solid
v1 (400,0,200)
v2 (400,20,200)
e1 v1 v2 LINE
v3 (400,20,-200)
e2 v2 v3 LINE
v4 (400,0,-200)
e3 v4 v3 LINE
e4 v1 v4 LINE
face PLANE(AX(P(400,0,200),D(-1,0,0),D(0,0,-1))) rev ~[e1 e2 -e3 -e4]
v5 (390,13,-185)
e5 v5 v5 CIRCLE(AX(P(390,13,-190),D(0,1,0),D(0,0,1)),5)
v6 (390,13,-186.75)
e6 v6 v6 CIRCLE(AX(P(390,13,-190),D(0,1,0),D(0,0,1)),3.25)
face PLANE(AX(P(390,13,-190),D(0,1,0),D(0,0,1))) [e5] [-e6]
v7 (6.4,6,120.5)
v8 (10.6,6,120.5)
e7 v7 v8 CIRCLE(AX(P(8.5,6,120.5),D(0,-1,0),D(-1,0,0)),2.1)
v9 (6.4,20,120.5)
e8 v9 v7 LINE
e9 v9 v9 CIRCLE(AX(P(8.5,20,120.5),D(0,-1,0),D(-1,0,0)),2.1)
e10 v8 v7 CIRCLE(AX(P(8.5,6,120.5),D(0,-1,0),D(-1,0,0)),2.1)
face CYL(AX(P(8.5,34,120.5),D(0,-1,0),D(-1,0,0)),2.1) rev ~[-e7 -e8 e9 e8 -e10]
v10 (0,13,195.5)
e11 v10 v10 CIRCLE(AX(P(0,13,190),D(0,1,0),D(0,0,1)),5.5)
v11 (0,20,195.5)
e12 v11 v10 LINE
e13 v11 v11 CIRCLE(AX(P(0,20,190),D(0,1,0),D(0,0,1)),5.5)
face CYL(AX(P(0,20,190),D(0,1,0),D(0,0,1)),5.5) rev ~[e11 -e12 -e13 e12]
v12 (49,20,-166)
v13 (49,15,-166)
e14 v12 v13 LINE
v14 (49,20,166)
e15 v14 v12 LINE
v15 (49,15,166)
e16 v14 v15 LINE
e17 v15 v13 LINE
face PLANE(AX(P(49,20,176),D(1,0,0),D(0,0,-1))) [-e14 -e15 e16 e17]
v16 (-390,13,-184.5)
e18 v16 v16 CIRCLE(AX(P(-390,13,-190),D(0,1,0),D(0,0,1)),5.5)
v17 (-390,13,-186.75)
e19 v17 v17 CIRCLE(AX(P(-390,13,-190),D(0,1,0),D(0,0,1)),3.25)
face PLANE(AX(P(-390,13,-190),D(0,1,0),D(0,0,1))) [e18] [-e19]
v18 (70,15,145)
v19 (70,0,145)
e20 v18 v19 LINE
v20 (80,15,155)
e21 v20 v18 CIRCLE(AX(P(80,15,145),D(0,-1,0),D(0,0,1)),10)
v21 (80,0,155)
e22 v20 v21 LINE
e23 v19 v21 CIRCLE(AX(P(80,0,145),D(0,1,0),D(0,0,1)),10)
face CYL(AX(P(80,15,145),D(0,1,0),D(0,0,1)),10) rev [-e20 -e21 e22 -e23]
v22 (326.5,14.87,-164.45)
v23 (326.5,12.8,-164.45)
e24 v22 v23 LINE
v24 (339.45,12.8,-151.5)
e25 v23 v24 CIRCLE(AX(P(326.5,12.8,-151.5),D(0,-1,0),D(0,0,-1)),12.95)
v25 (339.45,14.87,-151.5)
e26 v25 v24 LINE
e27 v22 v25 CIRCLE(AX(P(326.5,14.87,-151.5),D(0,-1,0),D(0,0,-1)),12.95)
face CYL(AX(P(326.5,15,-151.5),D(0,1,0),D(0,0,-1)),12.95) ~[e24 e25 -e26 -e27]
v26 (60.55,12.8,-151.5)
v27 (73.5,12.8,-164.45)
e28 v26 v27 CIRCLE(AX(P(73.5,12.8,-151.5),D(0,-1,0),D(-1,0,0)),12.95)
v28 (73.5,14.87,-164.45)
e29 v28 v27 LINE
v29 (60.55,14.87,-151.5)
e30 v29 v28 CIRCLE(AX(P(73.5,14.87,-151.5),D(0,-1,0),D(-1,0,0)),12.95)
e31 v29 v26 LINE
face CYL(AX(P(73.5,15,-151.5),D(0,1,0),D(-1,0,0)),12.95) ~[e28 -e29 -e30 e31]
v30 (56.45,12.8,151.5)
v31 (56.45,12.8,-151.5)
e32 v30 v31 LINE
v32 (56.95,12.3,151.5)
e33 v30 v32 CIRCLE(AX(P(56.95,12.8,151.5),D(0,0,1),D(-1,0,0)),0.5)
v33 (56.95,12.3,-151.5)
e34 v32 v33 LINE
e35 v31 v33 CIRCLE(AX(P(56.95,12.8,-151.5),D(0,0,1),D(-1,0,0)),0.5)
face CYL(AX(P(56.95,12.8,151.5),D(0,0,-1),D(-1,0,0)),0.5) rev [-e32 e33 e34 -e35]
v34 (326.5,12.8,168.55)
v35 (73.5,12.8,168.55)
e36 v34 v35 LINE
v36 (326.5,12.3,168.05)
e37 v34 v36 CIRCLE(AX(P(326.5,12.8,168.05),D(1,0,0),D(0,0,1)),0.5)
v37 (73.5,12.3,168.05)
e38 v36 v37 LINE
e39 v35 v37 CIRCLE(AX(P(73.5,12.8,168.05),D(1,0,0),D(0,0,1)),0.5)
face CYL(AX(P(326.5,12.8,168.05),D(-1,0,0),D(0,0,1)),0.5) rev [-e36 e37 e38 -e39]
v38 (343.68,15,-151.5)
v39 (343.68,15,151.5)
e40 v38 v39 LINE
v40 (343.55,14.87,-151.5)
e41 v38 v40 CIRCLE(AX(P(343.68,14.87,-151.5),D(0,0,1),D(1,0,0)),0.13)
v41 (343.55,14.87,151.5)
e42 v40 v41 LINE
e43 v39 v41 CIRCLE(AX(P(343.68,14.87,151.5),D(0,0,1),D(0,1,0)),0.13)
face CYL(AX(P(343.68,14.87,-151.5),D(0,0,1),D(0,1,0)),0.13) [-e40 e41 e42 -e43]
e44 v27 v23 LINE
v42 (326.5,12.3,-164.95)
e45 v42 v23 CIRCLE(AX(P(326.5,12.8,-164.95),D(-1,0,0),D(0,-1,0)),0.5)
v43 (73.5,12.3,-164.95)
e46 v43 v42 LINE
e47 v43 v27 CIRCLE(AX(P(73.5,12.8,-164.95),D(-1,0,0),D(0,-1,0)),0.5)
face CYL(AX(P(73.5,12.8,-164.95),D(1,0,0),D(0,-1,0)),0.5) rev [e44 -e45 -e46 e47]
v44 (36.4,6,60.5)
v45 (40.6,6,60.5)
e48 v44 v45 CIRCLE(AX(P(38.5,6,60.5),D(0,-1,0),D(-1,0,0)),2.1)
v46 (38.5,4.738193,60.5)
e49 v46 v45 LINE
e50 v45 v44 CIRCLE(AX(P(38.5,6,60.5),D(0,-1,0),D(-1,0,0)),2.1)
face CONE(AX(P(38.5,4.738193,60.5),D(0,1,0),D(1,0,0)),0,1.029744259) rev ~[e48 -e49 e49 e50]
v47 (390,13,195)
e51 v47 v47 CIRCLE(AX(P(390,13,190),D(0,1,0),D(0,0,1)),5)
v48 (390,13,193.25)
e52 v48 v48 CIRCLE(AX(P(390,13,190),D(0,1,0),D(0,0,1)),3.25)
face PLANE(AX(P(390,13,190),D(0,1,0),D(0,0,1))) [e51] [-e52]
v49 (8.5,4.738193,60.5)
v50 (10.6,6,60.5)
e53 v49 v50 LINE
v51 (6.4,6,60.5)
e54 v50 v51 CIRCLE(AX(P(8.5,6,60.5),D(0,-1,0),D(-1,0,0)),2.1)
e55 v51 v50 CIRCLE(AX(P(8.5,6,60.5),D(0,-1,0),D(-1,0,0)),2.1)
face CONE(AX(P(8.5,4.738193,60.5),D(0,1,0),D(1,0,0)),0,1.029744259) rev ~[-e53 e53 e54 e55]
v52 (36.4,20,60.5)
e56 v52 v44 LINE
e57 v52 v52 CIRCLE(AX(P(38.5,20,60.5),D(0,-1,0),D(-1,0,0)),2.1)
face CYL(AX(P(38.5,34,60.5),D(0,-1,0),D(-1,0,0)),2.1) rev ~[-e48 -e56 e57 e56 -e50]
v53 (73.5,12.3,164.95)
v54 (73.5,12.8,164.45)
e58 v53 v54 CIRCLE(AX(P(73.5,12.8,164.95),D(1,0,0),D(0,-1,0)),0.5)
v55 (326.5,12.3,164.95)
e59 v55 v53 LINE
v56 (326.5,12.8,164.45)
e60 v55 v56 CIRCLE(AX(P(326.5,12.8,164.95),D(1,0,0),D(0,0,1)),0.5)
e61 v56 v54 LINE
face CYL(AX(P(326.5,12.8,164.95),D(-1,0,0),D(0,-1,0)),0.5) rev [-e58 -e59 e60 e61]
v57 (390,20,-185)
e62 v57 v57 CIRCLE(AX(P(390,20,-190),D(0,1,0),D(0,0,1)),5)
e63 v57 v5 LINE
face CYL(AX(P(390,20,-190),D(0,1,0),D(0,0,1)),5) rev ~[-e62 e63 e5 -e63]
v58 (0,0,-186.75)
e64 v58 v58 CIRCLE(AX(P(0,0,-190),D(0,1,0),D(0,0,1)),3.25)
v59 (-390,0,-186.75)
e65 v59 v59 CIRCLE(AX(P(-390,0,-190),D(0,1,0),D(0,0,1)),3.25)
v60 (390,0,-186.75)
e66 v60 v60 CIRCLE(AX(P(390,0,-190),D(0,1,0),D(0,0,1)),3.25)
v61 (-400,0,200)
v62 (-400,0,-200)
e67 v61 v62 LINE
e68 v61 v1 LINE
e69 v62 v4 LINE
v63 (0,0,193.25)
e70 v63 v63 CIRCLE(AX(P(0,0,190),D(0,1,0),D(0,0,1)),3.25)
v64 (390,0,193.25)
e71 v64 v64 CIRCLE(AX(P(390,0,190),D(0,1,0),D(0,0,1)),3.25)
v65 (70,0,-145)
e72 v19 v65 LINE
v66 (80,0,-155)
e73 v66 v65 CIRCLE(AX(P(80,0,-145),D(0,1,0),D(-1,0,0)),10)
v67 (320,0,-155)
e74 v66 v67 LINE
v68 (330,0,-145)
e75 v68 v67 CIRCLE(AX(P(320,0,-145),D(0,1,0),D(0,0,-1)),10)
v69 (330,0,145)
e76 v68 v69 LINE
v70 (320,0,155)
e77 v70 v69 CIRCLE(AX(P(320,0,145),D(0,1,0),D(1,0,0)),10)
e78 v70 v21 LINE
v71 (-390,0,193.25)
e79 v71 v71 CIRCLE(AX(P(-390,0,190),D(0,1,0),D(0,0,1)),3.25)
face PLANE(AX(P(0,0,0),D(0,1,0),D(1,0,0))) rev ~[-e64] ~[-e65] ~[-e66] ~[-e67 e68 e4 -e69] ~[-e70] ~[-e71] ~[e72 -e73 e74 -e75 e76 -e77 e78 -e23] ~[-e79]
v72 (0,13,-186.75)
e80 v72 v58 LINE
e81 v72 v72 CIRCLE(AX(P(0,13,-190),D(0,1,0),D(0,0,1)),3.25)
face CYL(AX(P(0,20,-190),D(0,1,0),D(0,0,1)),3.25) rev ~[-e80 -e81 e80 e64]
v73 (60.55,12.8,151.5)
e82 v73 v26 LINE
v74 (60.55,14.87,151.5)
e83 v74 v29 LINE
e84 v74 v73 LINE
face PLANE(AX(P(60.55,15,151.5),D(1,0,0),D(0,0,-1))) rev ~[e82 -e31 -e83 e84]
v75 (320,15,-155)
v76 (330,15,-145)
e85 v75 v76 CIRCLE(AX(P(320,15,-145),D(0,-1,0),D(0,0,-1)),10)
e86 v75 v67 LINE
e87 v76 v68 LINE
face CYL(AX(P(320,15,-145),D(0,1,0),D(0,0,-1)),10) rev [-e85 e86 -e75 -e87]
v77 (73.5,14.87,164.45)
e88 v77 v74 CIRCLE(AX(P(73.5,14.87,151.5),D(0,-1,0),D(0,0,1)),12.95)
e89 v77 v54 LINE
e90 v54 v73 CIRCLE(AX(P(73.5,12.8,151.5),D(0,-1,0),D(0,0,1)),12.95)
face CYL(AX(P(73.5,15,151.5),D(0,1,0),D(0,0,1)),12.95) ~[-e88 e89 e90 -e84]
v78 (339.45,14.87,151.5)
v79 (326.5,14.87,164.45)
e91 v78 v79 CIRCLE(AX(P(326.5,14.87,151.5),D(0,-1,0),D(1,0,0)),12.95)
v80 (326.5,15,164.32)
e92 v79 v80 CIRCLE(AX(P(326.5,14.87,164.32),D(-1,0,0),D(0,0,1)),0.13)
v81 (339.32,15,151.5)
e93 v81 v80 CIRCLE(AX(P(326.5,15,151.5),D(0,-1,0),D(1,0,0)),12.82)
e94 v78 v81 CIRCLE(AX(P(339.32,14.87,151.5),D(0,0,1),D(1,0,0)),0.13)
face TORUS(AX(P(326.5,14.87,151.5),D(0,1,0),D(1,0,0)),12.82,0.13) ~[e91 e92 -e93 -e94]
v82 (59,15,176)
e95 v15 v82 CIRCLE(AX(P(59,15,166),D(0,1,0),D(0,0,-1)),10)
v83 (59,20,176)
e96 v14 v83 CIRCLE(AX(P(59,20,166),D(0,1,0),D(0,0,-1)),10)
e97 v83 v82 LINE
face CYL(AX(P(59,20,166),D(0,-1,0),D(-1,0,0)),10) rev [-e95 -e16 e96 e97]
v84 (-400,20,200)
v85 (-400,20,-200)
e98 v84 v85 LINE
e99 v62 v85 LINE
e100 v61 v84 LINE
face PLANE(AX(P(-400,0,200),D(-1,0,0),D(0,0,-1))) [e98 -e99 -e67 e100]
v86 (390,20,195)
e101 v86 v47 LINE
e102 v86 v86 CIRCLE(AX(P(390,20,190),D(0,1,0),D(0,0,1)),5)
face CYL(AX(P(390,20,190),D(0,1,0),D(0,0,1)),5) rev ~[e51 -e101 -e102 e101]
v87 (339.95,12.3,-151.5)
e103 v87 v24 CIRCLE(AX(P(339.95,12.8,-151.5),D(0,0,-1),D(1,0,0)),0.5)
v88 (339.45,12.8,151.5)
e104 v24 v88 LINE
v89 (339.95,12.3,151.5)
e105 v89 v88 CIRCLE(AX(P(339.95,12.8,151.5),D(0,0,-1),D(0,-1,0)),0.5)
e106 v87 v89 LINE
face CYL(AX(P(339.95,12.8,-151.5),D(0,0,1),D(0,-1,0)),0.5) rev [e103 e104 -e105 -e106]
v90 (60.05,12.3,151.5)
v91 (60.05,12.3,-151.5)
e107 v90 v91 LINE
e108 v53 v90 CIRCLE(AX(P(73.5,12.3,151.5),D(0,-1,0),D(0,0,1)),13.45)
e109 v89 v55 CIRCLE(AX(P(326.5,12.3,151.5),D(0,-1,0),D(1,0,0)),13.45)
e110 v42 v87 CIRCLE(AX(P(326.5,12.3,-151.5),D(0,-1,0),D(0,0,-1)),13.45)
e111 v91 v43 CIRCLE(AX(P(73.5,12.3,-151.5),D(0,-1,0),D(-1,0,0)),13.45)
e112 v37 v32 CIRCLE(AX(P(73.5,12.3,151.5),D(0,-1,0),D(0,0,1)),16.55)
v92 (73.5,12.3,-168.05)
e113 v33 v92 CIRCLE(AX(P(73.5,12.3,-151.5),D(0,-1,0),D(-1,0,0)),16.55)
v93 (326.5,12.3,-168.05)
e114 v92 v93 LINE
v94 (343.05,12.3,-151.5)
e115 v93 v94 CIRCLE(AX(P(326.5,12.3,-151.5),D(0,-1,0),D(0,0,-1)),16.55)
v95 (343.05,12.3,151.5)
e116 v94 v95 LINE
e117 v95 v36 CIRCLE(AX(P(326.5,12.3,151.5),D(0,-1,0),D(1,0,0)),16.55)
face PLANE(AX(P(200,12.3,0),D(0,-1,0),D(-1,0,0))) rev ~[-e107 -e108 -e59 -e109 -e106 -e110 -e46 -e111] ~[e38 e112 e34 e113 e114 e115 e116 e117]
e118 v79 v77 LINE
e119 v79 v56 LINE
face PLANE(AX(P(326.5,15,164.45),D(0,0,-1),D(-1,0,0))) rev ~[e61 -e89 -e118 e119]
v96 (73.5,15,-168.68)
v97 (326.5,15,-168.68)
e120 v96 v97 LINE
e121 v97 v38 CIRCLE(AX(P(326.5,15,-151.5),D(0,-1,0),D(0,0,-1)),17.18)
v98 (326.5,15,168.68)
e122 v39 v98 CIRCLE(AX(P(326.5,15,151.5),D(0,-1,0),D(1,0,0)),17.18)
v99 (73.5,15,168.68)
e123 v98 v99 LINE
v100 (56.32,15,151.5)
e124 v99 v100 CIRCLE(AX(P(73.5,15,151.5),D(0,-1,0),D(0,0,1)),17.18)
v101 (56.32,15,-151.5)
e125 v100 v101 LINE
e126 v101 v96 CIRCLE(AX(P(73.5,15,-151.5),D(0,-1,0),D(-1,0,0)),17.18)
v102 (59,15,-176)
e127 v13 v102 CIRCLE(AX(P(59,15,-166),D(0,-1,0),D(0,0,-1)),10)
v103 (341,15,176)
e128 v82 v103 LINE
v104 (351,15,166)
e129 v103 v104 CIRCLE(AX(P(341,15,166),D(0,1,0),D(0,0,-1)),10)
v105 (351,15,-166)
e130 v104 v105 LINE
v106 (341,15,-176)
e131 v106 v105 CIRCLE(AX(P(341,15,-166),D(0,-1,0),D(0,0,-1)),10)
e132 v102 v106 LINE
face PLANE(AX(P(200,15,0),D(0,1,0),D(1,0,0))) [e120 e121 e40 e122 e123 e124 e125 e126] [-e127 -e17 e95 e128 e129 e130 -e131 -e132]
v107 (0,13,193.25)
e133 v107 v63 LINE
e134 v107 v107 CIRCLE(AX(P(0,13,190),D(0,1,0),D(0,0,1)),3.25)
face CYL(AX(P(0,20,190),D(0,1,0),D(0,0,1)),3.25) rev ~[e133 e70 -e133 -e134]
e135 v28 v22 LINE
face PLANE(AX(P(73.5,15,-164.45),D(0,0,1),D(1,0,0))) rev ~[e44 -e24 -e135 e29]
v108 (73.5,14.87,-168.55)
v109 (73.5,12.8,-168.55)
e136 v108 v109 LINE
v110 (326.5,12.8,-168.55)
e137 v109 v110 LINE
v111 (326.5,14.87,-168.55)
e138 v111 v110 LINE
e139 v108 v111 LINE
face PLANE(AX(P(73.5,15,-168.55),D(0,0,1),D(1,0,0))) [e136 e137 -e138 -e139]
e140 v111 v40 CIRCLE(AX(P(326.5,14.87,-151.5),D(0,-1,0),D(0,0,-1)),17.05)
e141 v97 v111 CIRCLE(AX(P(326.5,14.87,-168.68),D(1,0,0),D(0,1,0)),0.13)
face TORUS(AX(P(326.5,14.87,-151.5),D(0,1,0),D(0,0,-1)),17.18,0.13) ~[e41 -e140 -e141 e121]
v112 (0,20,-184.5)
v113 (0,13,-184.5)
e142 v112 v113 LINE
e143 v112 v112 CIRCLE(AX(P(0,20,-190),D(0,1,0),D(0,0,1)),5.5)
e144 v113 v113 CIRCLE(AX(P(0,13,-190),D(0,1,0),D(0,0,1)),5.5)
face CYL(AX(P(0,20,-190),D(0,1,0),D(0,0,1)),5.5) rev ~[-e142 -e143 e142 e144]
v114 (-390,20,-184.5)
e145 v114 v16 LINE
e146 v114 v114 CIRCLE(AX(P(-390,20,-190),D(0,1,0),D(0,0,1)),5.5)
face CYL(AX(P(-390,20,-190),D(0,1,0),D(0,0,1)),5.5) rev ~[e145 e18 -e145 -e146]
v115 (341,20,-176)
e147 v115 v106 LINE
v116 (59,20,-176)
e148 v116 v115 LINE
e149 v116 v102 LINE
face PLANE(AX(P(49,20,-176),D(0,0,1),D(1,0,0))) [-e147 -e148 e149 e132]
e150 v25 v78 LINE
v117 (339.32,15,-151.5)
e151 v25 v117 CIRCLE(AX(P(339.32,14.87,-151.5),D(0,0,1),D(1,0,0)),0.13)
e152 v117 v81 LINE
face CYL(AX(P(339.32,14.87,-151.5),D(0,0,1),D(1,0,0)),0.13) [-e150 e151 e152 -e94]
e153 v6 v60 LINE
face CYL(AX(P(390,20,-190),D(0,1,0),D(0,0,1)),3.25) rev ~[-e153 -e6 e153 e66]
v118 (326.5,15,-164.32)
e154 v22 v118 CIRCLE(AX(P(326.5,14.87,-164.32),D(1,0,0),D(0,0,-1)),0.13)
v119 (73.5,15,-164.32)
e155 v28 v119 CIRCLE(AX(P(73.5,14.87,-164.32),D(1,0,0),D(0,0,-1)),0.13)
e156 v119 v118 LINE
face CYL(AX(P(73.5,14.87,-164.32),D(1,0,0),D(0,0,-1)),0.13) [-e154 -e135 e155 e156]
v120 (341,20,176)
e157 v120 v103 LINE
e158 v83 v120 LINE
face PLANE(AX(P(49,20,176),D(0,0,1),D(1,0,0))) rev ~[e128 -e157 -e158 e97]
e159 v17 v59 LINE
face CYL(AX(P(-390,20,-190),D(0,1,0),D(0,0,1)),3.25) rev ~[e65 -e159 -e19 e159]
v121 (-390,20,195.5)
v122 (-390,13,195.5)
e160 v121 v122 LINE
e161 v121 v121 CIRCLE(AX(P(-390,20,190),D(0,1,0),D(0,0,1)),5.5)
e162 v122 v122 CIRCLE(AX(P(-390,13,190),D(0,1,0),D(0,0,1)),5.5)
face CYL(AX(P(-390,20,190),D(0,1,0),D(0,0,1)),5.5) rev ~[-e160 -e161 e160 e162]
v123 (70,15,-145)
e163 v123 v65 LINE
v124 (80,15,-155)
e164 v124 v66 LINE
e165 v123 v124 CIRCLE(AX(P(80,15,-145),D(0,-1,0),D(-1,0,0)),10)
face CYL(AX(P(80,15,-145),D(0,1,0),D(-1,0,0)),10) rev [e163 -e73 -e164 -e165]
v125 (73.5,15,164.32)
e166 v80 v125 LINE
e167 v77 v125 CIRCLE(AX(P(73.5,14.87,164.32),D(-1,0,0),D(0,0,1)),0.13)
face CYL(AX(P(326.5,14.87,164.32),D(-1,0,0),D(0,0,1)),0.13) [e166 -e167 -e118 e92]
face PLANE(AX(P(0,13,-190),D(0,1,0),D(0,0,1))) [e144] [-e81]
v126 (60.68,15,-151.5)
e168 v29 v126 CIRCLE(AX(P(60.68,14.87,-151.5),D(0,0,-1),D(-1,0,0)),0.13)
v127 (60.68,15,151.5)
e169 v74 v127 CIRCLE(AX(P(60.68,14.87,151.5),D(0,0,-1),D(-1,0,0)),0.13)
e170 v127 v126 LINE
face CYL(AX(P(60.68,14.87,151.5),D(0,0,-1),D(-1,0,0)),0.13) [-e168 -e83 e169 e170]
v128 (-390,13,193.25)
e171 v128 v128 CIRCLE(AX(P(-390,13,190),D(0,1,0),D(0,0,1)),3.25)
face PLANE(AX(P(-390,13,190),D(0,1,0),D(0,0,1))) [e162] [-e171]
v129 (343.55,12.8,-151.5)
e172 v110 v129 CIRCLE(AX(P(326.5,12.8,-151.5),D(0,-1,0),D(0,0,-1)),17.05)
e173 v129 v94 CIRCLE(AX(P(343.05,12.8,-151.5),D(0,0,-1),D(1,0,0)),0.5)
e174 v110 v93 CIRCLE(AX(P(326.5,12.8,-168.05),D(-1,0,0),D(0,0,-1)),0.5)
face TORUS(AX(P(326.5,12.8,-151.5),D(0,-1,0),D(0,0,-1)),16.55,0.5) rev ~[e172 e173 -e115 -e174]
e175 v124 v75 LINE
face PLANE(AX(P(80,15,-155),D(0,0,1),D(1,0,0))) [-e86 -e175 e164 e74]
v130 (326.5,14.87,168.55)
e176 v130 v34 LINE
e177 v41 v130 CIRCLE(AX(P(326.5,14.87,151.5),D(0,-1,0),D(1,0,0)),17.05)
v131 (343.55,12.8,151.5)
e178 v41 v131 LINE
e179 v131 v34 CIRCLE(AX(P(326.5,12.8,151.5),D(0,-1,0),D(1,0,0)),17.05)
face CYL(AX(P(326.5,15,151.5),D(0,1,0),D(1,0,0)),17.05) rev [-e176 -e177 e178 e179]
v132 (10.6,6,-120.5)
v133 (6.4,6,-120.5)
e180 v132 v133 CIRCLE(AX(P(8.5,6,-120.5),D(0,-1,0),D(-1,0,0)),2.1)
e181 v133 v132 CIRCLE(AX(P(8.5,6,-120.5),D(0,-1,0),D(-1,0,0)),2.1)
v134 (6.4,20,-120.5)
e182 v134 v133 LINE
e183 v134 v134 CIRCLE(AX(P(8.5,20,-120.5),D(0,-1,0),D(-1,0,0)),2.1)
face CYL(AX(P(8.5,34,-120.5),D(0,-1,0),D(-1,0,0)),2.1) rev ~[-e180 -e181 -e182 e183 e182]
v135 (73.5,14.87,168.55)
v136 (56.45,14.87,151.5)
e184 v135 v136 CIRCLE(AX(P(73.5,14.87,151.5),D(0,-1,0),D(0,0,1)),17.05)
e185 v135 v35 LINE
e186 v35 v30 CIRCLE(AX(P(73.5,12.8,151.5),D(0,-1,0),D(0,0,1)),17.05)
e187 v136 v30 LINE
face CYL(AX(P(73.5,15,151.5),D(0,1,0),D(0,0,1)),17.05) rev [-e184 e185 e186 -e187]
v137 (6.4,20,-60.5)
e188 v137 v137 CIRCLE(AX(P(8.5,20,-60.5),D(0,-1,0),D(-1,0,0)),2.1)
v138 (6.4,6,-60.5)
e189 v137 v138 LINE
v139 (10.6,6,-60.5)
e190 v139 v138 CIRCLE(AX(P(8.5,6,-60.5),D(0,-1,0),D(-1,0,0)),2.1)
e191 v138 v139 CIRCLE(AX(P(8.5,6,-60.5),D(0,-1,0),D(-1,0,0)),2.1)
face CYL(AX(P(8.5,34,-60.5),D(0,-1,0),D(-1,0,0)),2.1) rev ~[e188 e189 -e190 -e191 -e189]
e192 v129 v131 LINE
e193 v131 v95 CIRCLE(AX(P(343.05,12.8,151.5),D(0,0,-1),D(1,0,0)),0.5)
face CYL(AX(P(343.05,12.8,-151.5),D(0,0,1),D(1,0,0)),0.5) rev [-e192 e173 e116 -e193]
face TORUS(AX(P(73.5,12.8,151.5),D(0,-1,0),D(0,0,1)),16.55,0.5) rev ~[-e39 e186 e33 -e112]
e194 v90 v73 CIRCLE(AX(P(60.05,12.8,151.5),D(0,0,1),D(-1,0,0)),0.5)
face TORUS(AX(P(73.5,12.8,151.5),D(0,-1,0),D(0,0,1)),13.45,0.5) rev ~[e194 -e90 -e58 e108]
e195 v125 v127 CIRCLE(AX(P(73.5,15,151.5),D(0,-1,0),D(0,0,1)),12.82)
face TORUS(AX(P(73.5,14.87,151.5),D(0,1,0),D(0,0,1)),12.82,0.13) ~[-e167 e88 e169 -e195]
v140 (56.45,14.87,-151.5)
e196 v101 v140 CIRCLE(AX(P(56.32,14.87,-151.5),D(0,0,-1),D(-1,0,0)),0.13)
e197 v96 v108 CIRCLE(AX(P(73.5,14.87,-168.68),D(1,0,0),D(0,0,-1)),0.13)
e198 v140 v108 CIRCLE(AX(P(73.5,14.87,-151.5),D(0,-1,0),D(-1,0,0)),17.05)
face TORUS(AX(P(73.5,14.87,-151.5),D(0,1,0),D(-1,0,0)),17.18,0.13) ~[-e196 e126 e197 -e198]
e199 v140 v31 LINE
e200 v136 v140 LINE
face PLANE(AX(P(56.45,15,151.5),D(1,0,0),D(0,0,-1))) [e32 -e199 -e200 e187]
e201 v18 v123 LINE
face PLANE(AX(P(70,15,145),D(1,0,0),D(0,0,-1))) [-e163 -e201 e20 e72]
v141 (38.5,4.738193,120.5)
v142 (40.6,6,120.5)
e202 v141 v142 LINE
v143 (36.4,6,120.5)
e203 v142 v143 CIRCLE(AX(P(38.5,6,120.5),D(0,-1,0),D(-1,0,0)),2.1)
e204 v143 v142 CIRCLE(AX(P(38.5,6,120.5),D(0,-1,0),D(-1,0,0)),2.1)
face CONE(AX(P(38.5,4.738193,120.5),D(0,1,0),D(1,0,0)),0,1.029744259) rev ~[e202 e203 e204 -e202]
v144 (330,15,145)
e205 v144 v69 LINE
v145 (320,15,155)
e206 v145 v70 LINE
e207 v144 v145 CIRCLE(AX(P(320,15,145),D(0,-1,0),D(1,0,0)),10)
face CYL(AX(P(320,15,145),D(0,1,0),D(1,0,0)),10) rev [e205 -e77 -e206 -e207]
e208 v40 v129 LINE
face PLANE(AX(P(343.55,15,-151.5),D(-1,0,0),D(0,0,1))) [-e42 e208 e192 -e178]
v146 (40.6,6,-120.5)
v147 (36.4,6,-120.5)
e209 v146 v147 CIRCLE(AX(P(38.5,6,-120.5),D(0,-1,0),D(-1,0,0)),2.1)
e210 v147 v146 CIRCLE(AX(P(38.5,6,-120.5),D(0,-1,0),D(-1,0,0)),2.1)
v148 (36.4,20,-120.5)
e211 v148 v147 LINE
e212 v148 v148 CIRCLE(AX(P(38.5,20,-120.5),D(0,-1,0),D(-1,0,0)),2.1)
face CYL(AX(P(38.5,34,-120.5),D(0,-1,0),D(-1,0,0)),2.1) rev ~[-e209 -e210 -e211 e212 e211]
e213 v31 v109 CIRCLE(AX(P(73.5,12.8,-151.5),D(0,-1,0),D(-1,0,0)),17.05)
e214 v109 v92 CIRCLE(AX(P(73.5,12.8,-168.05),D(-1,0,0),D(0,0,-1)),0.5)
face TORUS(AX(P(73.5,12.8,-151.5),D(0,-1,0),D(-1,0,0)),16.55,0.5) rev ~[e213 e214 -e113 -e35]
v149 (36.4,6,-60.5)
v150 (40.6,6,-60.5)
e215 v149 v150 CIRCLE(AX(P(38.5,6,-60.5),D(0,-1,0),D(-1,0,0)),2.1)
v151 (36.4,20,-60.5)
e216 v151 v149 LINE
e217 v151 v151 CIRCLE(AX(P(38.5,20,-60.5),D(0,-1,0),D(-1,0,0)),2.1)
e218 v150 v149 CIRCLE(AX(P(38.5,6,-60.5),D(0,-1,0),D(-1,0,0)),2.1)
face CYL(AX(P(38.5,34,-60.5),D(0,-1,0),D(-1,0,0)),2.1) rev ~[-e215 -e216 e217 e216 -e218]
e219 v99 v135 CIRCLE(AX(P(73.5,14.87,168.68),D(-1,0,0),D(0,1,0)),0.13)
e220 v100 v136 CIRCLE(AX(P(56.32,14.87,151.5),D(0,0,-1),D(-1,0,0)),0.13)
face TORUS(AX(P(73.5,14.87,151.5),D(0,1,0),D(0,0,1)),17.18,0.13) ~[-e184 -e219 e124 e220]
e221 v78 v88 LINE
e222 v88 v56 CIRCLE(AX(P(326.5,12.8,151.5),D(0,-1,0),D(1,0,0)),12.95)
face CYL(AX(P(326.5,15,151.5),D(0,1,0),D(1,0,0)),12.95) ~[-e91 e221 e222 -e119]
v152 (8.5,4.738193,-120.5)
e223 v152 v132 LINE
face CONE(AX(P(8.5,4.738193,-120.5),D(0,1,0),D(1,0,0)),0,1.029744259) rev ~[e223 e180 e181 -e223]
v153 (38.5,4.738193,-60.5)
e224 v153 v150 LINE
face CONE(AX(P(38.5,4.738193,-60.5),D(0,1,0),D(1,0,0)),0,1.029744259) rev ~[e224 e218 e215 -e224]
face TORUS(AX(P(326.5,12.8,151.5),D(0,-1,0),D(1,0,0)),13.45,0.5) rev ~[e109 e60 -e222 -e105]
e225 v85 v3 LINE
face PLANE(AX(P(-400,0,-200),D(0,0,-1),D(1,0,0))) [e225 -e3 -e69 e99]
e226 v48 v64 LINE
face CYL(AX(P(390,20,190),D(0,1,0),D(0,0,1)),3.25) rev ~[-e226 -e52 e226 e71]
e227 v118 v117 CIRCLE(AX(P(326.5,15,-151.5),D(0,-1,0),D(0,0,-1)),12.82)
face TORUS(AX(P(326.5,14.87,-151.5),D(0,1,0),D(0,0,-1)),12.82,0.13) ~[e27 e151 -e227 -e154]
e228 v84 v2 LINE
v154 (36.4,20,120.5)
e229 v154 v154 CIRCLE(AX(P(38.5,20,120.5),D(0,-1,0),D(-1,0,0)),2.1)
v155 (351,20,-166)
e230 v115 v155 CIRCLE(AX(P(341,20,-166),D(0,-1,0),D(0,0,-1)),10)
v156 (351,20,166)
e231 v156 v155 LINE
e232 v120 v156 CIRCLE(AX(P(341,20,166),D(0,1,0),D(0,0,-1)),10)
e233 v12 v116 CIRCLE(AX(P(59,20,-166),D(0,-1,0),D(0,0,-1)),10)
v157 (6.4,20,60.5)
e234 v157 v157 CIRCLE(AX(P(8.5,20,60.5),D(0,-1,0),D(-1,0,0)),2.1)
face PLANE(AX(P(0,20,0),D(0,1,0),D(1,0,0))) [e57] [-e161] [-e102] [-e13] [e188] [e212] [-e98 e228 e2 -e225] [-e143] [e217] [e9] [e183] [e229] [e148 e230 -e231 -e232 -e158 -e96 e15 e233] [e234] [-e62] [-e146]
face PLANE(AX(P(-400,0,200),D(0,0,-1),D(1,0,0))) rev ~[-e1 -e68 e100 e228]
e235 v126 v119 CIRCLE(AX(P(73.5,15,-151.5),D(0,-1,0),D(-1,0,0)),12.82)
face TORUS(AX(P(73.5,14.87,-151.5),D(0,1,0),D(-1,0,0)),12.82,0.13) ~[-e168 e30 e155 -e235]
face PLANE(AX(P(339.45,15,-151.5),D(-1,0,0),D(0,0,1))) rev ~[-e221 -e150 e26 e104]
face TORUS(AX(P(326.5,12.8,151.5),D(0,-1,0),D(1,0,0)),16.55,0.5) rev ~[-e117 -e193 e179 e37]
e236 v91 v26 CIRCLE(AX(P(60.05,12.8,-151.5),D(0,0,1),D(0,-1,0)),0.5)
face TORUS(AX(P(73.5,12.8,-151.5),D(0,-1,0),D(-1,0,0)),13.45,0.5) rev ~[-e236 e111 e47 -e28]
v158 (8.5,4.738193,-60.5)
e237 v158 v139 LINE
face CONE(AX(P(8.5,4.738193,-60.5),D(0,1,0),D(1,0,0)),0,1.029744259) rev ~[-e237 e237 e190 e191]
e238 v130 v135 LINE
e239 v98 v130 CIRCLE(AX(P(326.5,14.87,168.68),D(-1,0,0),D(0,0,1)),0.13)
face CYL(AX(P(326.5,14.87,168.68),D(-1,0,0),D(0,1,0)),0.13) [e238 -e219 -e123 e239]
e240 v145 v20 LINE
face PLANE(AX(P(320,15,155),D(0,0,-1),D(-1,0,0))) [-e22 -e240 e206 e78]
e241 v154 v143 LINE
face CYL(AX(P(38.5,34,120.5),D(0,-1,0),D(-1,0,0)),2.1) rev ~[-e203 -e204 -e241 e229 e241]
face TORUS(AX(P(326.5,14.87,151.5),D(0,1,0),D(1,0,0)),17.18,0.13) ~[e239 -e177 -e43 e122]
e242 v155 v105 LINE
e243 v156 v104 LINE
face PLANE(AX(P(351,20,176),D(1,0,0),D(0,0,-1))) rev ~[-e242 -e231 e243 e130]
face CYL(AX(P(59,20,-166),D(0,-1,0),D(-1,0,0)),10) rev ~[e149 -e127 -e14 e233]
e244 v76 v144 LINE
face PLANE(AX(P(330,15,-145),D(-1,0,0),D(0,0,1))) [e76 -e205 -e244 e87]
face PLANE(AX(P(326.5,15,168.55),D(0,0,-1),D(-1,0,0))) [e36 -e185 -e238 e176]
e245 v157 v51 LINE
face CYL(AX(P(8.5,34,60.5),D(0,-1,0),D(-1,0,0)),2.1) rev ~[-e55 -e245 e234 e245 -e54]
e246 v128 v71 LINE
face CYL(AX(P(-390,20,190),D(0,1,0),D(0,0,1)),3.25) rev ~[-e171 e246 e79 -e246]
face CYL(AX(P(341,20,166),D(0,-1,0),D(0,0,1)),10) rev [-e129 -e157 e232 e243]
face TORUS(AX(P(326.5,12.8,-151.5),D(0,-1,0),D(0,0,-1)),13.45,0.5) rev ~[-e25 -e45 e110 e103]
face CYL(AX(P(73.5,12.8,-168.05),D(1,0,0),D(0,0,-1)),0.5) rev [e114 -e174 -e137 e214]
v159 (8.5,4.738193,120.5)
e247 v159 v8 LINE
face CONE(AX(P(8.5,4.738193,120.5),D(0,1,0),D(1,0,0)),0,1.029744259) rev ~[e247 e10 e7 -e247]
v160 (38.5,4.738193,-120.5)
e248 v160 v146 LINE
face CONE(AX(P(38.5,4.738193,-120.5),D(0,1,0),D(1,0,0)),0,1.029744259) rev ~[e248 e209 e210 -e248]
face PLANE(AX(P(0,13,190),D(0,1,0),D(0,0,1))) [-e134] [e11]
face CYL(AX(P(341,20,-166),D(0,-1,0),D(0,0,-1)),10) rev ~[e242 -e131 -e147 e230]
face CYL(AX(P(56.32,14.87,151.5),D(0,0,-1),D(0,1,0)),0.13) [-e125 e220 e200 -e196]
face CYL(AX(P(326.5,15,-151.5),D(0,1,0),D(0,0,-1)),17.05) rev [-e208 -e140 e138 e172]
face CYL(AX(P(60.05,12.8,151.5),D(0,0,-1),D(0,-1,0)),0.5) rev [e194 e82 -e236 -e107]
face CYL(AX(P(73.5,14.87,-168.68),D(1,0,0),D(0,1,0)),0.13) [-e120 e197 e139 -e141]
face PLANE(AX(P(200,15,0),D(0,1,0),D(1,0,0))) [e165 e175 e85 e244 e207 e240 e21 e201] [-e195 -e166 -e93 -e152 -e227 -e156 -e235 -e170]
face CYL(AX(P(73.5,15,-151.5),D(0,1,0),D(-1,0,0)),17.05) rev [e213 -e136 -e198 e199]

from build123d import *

# Parameters (mm, degrees)
SKETCH_1_W             = 800
SKETCH_1_H             = 400
EXTRUDE_1_DEPTH        = 20
SKETCH_3_W             = 302
SKETCH_3_H             = 352
CUT_EXTRUDE_1_DEPTH    = 5
CUT_EXTRUDE_2_DEPTH    = 2.7
FILLET_1_R             = 0.13
FILLET_2_R             = 0.5
FILLET_3_R             = 10
CUT_EXTRUDE_3_DEPTH    = 448.465082437
SKETCH_10_R            = 5.5
SKETCH_10_R_2          = 5
CUT_EXTRUDE_4_DEPTH    = 7
SKETCH_11_R            = 3.25
CUT_EXTRUDE_5_DEPTH    = 448.660585712
HOLE_WIZARD_M5_2_D     = 4.2
HOLE_WIZARD_M5_2_DEPTH = 14
HOLE_WIZARD_M5_2_TIP   = 1.2618073


with BuildPart() as part:
    # 스케치1 → 보스-돌출1 (new body)
    with BuildSketch(Plane(origin=(0, 0, 0), x_dir=(1, 0, 0), z_dir=(0, 1, 0))):
        Rectangle(SKETCH_1_W, SKETCH_1_H)
    extrude(amount=EXTRUDE_1_DEPTH)

    # 스케치3 → 컷-돌출1 (cut)
    with BuildSketch(Plane(origin=(0, 20, 0), x_dir=(1, 0, 0), z_dir=(0, 1, 0))):
        with Locations((200, 0)):
            Rectangle(SKETCH_3_W, SKETCH_3_H)
    extrude(amount=-CUT_EXTRUDE_1_DEPTH, mode=Mode.SUBTRACT)

    # 스케치4 → 컷-돌출2 (cut)
    with BuildSketch(Plane(origin=(0, 15, 0), x_dir=(1, 0, 0), z_dir=(0, 1, 0))):
        with BuildLine():
            Line((73.5, 168.55), (326.5, 168.55))
            ThreePointArc((326.5, 168.55), (338.556170619, 163.556170619), (343.55, 151.5))
            Line((343.55, 151.5), (343.55, -151.5))
            ThreePointArc((343.55, -151.5), (338.556170619, -163.556170619), (326.5, -168.55))
            Line((326.5, -168.55), (73.5, -168.55))
            ThreePointArc((73.5, -168.55), (61.443829381, -163.556170619), (56.45, -151.5))
            Line((56.45, -151.5), (56.45, 151.5))
            ThreePointArc((56.45, 151.5), (61.443829381, 163.556170619), (73.5, 168.55))
        make_face()
        with BuildLine():
            Line((73.5, 164.45), (326.5, 164.45))
            ThreePointArc((326.5, 164.45), (335.657032816, 160.657032816), (339.45, 151.5))
            Line((339.45, 151.5), (339.45, -151.5))
            ThreePointArc((339.45, -151.5), (335.657032816, -160.657032816), (326.5, -164.45))
            Line((326.5, -164.45), (73.5, -164.45))
            ThreePointArc((73.5, -164.45), (64.342967184, -160.657032816), (60.55, -151.5))
            Line((60.55, -151.5), (60.55, 151.5))
            ThreePointArc((60.55, 151.5), (64.342967184, 160.657032816), (73.5, 164.45))
        make_face(mode=Mode.SUBTRACT)
    extrude(amount=-CUT_EXTRUDE_2_DEPTH, mode=Mode.SUBTRACT)

    # 필렛1
    fillet_1_edges = [part.edges().sort_by_distance(p)[0] for p in [
        (61.443829381, 15, -163.556170619),
        (56.45, 15, 0),
        (61.443829381, 15, 163.556170619),
        (200, 15, 168.55),
        (338.556170619, 15, 163.556170619),
        (343.55, 15, 0),
        (338.556170619, 15, -163.556170619),
        (200, 15, -168.55),
        (64.342967184, 15, -160.657032816),
        (200, 15, -164.45),
        (335.657032816, 15, -160.657032816),
        (339.45, 15, 0),
        (335.657032816, 15, 160.657032816),
        (200, 15, 164.45),
        (64.342967184, 15, 160.657032816),
        (60.55, 15, 0),
    ]]
    fillet(fillet_1_edges, radius=FILLET_1_R)

    # 필렛2
    fillet_2_edges = [part.edges().sort_by_distance(p)[0] for p in [
        (61.443829381, 12.3, -163.556170619),
        (200, 12.3, -168.55),
        (338.556170619, 12.3, -163.556170619),
        (343.55, 12.3, 0),
        (338.556170619, 12.3, 163.556170619),
        (200, 12.3, 168.55),
        (61.443829381, 12.3, 163.556170619),
        (56.45, 12.3, 0),
        (200, 12.3, -164.45),
        (64.342967184, 12.3, -160.657032816),
        (60.55, 12.3, 0),
        (64.342967184, 12.3, 160.657032816),
        (200, 12.3, 164.45),
        (335.657032816, 12.3, 160.657032816),
        (339.45, 12.3, 0),
        (335.657032816, 12.3, -160.657032816),
    ]]
    fillet(fillet_2_edges, radius=FILLET_2_R)

    # 필렛3
    fillet_3_edges = [part.edges().sort_by_distance(p)[0] for p in [
        (351, 17.5, -176),
        (351, 17.5, 176),
        (49, 17.5, 176),
        (49, 17.5, -176),
    ]]
    fillet(fillet_3_edges, radius=FILLET_3_R)

    # 스케치6 → 컷-돌출3 (cut, through all)
    with BuildSketch(Plane(origin=(0, 15, 0), x_dir=(1, 0, 0), z_dir=(0, 1, 0))):
        with BuildLine():
            Line((80, 155), (320, 155))
            ThreePointArc((320, 155), (327.071067812, 152.071067812), (330, 145))
            Line((330, 145), (330, -145))
            ThreePointArc((330, -145), (327.071067812, -152.071067812), (320, -155))
            Line((320, -155), (80, -155))
            ThreePointArc((80, -155), (72.928932188, -152.071067812), (70, -145))
            Line((70, -145), (70, 145))
            ThreePointArc((70, 145), (72.928932188, 152.071067812), (80, 155))
        make_face()
    extrude(amount=-CUT_EXTRUDE_3_DEPTH, mode=Mode.SUBTRACT)

    # 스케치10 → 컷-돌출4 (cut)
    with BuildSketch(Plane(origin=(0, 20, 0), x_dir=(1, 0, 0), z_dir=(0, 1, 0))):
        with Locations(Location((0, 190, 0), (0, 0, 270))):
            Circle(SKETCH_10_R)
        with Locations(Location((-390, 190, 0), (0, 0, 270))):
            Circle(SKETCH_10_R)
        with Locations(Location((-390, -190, 0), (0, 0, 270))):
            Circle(SKETCH_10_R)
        with Locations(Location((0, -190, 0), (0, 0, 270))):
            Circle(SKETCH_10_R)
        with Locations(Location((390, -190, 0), (0, 0, 270))):
            Circle(SKETCH_10_R_2)
        with Locations(Location((390, 190, 0), (0, 0, 270))):
            Circle(SKETCH_10_R_2)
    extrude(amount=-CUT_EXTRUDE_4_DEPTH, mode=Mode.SUBTRACT)

    # 스케치11 → 컷-돌출5 (cut, through all)
    with BuildSketch(Plane(origin=(0, 20, 0), x_dir=(1, 0, 0), z_dir=(0, 1, 0))):
        with Locations(Location((-390, 190, 0), (0, 0, 270))):
            Circle(SKETCH_11_R)
        with Locations(Location((0, 190, 0), (0, 0, 270))):
            Circle(SKETCH_11_R)
        with Locations(Location((0, -190, 0), (0, 0, 270))):
            Circle(SKETCH_11_R)
        with Locations(Location((-390, -190, 0), (0, 0, 270))):
            Circle(SKETCH_11_R)
        with Locations(Location((390, -190, 0), (0, 0, 270))):
            Circle(SKETCH_11_R)
        with Locations(Location((390, 190, 0), (0, 0, 270))):
            Circle(SKETCH_11_R)
    extrude(amount=-CUT_EXTRUDE_5_DEPTH, mode=Mode.SUBTRACT)

    # M5 나사 구멍2
    with Locations(Plane(origin=(0, 20, 0), x_dir=(1, 0, 0), z_dir=(0, 1, 0))):
        with Locations((8.5, 120.5), (38.5, 120.5), (8.5, 60.5), (38.5, 60.5), (8.5, -60.5), (38.5, -60.5), (8.5, -120.5), (38.5, -120.5)):
            Hole(HOLE_WIZARD_M5_2_D / 2, depth=HOLE_WIZARD_M5_2_DEPTH)
            with Locations((0, 0, -(HOLE_WIZARD_M5_2_DEPTH + HOLE_WIZARD_M5_2_TIP / 2))):  # 118° drill point
                Cone(0, HOLE_WIZARD_M5_2_D / 2, HOLE_WIZARD_M5_2_TIP, mode=Mode.SUBTRACT)


solid = part.part
